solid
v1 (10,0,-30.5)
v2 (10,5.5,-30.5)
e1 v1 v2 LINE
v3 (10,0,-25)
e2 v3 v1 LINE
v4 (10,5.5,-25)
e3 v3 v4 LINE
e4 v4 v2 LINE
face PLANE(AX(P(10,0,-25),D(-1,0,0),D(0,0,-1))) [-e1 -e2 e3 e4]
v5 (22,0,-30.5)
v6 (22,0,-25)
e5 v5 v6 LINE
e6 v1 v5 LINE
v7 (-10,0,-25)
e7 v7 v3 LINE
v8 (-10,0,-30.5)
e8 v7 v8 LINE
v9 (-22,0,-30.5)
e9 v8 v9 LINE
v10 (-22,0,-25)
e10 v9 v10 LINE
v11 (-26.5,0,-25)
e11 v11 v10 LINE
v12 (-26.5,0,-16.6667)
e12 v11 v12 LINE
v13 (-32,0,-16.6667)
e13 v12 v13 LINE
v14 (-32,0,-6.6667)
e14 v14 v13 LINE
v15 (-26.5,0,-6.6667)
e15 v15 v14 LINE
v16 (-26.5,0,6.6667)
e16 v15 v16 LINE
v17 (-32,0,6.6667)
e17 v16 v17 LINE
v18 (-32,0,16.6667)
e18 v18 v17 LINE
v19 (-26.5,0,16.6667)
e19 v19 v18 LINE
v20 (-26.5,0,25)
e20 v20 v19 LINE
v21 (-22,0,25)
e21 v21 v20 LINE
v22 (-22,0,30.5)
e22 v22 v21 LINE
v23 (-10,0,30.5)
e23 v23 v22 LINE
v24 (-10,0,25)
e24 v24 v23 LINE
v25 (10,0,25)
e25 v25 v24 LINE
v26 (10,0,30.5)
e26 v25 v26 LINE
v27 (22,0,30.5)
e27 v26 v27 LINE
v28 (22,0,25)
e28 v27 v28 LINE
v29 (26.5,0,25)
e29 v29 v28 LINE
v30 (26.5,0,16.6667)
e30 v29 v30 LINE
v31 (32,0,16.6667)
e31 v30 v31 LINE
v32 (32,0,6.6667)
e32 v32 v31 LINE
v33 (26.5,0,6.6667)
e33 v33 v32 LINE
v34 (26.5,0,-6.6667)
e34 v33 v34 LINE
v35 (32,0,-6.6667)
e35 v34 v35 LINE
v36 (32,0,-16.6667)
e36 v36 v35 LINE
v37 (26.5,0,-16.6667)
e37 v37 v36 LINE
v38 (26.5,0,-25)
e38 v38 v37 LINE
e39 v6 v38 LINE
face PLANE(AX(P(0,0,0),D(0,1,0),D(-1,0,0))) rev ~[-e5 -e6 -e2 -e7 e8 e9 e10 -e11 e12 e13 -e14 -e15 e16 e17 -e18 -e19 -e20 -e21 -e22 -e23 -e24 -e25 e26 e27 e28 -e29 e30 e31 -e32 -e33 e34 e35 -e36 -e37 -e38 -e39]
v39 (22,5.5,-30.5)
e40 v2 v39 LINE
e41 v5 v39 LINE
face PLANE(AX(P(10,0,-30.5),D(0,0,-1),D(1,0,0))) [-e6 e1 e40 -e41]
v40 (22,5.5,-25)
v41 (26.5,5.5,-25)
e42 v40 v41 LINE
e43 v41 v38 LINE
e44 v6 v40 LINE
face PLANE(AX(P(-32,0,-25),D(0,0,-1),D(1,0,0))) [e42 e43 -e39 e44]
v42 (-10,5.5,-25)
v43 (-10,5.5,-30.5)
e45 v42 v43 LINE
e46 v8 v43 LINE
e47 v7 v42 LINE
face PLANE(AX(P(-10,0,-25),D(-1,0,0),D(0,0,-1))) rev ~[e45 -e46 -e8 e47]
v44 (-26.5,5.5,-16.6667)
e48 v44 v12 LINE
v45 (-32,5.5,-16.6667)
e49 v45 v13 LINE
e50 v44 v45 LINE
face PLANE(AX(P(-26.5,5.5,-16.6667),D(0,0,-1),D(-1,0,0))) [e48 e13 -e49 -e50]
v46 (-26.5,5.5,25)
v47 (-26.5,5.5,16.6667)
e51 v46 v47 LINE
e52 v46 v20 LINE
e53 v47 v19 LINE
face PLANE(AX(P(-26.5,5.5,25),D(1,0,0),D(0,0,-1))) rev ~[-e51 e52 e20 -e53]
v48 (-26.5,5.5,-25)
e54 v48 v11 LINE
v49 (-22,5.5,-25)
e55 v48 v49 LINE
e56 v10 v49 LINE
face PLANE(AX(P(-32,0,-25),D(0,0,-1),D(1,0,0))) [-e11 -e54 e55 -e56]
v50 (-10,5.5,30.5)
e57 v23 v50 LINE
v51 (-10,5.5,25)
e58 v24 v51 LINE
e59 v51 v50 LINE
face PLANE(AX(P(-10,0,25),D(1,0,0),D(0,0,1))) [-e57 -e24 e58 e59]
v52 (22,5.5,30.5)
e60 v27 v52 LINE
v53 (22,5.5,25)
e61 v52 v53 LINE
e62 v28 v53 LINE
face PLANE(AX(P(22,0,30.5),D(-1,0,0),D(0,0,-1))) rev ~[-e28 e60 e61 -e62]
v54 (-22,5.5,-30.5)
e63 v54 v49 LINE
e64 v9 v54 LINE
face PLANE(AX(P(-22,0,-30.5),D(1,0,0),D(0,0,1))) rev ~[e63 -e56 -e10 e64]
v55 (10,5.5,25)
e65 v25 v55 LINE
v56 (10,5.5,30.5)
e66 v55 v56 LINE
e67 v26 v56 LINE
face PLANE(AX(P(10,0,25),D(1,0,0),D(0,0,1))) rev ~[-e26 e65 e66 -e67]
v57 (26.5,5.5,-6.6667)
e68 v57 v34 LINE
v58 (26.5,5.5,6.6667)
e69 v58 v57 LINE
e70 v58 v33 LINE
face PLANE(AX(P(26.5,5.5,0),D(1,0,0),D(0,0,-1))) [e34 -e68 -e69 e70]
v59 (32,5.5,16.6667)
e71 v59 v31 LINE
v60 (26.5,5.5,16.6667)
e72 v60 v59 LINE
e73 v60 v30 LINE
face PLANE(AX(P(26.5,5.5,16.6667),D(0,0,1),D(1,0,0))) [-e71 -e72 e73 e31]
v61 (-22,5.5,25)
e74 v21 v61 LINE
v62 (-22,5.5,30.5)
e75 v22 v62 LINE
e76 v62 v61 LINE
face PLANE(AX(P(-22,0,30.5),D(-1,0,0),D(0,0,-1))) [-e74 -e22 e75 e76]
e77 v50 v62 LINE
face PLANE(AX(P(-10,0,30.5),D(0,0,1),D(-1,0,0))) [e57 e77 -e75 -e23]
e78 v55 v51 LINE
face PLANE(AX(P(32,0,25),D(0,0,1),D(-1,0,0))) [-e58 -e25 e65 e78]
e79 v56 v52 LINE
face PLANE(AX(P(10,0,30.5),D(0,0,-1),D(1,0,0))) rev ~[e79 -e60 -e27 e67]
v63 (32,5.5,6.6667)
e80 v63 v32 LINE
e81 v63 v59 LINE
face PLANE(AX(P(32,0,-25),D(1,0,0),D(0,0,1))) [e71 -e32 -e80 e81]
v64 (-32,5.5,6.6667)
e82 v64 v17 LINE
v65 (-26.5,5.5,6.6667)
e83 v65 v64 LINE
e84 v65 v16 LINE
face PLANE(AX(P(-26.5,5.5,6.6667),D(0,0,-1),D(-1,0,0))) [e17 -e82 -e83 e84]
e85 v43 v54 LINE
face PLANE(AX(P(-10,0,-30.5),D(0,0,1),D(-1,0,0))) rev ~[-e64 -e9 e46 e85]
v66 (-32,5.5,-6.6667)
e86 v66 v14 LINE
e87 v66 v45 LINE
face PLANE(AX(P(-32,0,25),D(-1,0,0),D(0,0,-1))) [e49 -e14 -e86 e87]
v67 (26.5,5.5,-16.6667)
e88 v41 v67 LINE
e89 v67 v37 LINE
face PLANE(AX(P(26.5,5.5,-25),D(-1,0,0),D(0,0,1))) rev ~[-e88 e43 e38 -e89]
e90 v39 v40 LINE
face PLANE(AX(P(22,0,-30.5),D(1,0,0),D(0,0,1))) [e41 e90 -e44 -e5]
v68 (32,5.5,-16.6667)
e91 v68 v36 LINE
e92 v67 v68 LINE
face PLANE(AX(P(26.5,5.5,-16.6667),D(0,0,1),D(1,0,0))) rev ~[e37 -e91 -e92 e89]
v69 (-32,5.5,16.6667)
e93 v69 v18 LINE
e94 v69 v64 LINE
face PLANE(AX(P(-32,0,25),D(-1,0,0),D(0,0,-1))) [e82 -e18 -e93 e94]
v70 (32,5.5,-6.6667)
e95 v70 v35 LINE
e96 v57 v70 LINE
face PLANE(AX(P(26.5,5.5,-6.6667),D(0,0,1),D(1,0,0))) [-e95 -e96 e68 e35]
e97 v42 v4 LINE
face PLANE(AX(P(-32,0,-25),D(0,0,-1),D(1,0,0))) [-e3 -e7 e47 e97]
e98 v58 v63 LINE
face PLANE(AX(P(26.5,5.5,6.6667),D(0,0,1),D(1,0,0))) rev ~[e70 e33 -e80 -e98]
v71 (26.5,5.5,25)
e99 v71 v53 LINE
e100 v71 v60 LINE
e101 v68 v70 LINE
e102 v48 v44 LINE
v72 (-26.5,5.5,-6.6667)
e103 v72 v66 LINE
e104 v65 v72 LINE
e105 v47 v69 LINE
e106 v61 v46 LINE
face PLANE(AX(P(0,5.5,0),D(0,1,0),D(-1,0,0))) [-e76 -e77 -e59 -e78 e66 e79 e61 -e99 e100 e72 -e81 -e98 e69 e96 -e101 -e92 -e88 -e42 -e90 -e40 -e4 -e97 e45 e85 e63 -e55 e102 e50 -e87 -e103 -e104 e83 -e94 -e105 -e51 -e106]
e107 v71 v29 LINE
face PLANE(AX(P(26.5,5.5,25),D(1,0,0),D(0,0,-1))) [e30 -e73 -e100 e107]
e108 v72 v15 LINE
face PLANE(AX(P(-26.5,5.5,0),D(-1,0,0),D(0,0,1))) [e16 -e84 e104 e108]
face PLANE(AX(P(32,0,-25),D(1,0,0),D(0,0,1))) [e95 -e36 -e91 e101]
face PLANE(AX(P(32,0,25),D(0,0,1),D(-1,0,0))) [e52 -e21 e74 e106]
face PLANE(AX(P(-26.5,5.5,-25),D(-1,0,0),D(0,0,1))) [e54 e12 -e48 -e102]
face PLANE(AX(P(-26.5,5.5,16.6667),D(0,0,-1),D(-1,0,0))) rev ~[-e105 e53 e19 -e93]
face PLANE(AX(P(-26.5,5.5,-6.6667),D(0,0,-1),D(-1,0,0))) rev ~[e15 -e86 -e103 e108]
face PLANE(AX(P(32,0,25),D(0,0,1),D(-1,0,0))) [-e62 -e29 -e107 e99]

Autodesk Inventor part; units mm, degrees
ref_plane "YZ Plane" through (0, 0, 0) normal (1, 0, 0) x (0, 1, 0)
ref_plane "XZ Plane" through (0, 0, 0) normal (0, 1, 0) x (-1, 0, 0)
ref_plane "XY Plane" through (0, 0, 0) normal (0, 0, 1) x (1, 0, 0)
sketch "Block1" plane through (0, 0, 0) normal (0, 0, 1) x (1, 0, 0)
  line L0 (-35.5, -12.8333) -> (-26.5, -12.8333)
  line L1 (-30, 3.8333) -> (-35.5, 3.8333)
  line L2 (-35.5, 3.8333) -> (-26.5, 3.8333)
  line L3 (-26.5, 3.8333) -> (-26.5, -12.8333)
  line L4 (-26.5, -12.8333) -> (-35.5, -12.8333)
  line L5 (-35.5, -12.8333) -> (-35.5, 3.8333)
  line L6 (26.5, 3.8333) -> (35.5, 3.8333)
  line L7 (35.5, 3.8333) -> (26.5, 3.8333)
  line L8 (26.5, 3.8333) -> (26.5, -12.8333)
  line L9 (35.5, -12.8333) -> (35.5, 3.8333)
  line L10 (26.5, -12.8333) -> (35.5, -12.8333)
  line L11 (35.5, -12.8333) -> (26.5, -12.8333)
  point P0 (0, -4.5)
  dimension "d37" = 5.5
sketch "Block2" plane through (0, 0, 0) normal (0, 0, 1) x (1, 0, 0)
  line L0 (-30, -5) -> (-35.5, -5)
  line L1 (-26.5, 5) -> (-35.5, 5)
  line L2 (-35.5, -5) -> (-26.5, -5)
  line L3 (-26.5, -5) -> (-26.5, 5)
  line L4 (-26.5, 5) -> (-35.5, 5)
  line L5 (-35.5, 5) -> (-35.5, -5)
  line L6 (26.5, -5) -> (26.5, 5)
  line L7 (35.5, -5) -> (26.5, -5)
  line L8 (26.5, 5) -> (35.5, 5)
  line L9 (35.5, 5) -> (35.5, -5)
  line L10 (26.5, 5) -> (35.5, 5)
  line L11 (26.5, -5) -> (35.5, -5)
  point P0 (0, 0)
  dimension "d51" = 5.5
sketch "Block3" plane through (0, 0, 0) normal (0, 0, 1) x (1, 0, 0)
  line L0 (-9.9, 25.1) -> (9.9, 25.1)
  line L1 (9.9, 25.1) -> (9.9, 34.1)
  line L2 (9.9, 34.1) -> (22.1, 34.1)
  line L3 (22.1, 34.1) -> (22.1, 25.1)
  line L4 (22.1, 25.1) -> (26.6, 25.1)
  line L5 (26.6, 25.1) -> (26.6, 16.7667)
  line L6 (26.6, 16.7667) -> (35.6, 16.7667)
  line L7 (35.6, 16.7667) -> (35.6, 6.5667)
  line L8 (35.6, 6.5667) -> (26.6, 6.5667)
  line L9 (26.6, 6.5667) -> (26.6, -6.5667)
  line L10 (26.6, -6.5667) -> (35.6, -6.5667)
  line L11 (35.6, -6.5667) -> (35.6, -16.7667)
  line L12 (35.6, -16.7667) -> (26.6, -16.7667)
  line L13 (26.6, -16.7667) -> (26.6, -25.1)
  line L14 (26.6, -25.1) -> (22.1, -25.1)
  line L15 (22.1, -25.1) -> (22.1, -34.1)
  line L16 (22.1, -34.1) -> (9.9, -34.1)
  line L17 (9.9, -34.1) -> (9.9, -25.1)
  line L18 (9.9, -25.1) -> (-9.9, -25.1)
  line L19 (-9.9, -25.1) -> (-9.9, -34.1)
  line L20 (-9.9, -34.1) -> (-22.1, -34.1)
  line L21 (-22.1, -34.1) -> (-22.1, -25.1)
  line L22 (-22.1, -25.1) -> (-26.6, -25.1)
  line L23 (-26.6, -25.1) -> (-26.6, -16.7667)
  line L24 (-26.6, -16.7667) -> (-35.6, -16.7667)
  line L25 (-35.6, -16.7667) -> (-35.6, -6.5667)
  line L26 (-35.6, -6.5667) -> (-26.6, -6.5667)
  line L27 (-26.6, -6.5667) -> (-26.6, 6.5667)
  line L28 (-26.6, 6.5667) -> (-35.6, 6.5667)
  line L29 (-35.6, 6.5667) -> (-35.6, 16.7667)
  line L30 (-35.6, 16.7667) -> (-26.6, 16.7667)
  line L31 (-26.6, 16.7667) -> (-26.6, 25.1)
  line L32 (-26.6, 25.1) -> (-22.1, 25.1)
  line L33 (-22.1, 25.1) -> (-22.1, 34.1)
  line L34 (-22.1, 34.1) -> (-9.9, 34.1)
  line L35 (-9.9, 34.1) -> (-9.9, 25.1)
  line L36 (-26.5, -6.6667) -> (-35.5, -6.6667)
  line L37 (-35.5, -6.6667) -> (-35.5, -16.6667)
  line L38 (-35.5, -16.6667) -> (-26.5, -16.6667)
  line L39 (-26.5, -16.6667) -> (-26.5, -25)
  line L40 (-26.5, -25) -> (-22, -25)
  line L41 (-22, -25) -> (-22, -34)
  line L42 (-22, -34) -> (-10, -34)
  line L43 (-10, -34) -> (-10, -25)
  line L44 (-10, -25) -> (10, -25)
  line L45 (10, -34) -> (10, -25)
  line L46 (22, -34) -> (10, -34)
  line L47 (22, -25) -> (22, -34)
  line L48 (22, -25) -> (26.5, -25)
  line L49 (26.5, -25) -> (26.5, -16.6667)
  line L50 (26.5, -16.6667) -> (35.5, -16.6667)
  line L51 (35.5, -16.6667) -> (35.5, -6.6667)
  line L52 (35.5, -6.6667) -> (26.5, -6.6667)
  line L53 (26.5, -6.6667) -> (26.5, 6.6667)
  line L54 (26.5, 6.6667) -> (35.5, 6.6667)
  line L55 (35.5, 6.6667) -> (35.5, 16.6667)
  line L56 (35.5, 16.6667) -> (26.5, 16.6667)
  line L57 (26.5, 16.6667) -> (26.5, 25)
  line L58 (26.5, 25) -> (22, 25)
  line L59 (22, 25) -> (22, 34)
  line L60 (22, 34) -> (10, 34)
  line L61 (10, 34) -> (10, 25)
  line L62 (10, 25) -> (-10, 25)
  line L63 (-10, 25) -> (-10, 34)
  line L64 (-10, 34) -> (-22, 34)
  line L65 (-22, 34) -> (-22, 25)
  line L66 (-22, 25) -> (-26.5, 25)
  line L67 (-26.5, 25) -> (-26.5, 16.6667)
  line L68 (-26.5, 16.6667) -> (-35.5, 16.6667)
  line L69 (-35.5, 16.6667) -> (-35.5, 6.6667)
  line L70 (-35.5, 6.6667) -> (-26.5, 6.6667)
  line L71 (-26.5, 6.6667) -> (-26.5, -6.6667)
  line L72 (-9.9, 25.1) -> (9.9, 25.1)
  line L73 (9.9, 25.1) -> (9.9, 34.1)
  line L74 (9.9, 34.1) -> (22.1, 34.1)
  line L75 (22.1, 34.1) -> (22.1, 25.1)
  line L76 (22.1, 25.1) -> (26.6, 25.1)
  line L77 (26.6, 25.1) -> (26.6, 16.7667)
  line L78 (26.6, 16.7667) -> (35.6, 16.7667)
  line L79 (35.6, 16.7667) -> (35.6, 6.5667)
  line L80 (35.6, 6.5667) -> (26.6, 6.5667)
  line L81 (26.6, 6.5667) -> (26.6, -6.5667)
  line L82 (26.6, -6.5667) -> (35.6, -6.5667)
  line L83 (35.6, -6.5667) -> (35.6, -16.7667)
  line L84 (35.6, -16.7667) -> (26.6, -16.7667)
  line L85 (26.6, -16.7667) -> (26.6, -25.1)
  line L86 (26.6, -25.1) -> (22.1, -25.1)
  line L87 (22.1, -25.1) -> (22.1, -34.1)
  line L88 (22.1, -34.1) -> (9.9, -34.1)
  line L89 (9.9, -34.1) -> (9.9, -25.1)
  line L90 (9.9, -25.1) -> (-9.9, -25.1)
  line L91 (-9.9, -25.1) -> (-9.9, -34.1)
  line L92 (-9.9, -34.1) -> (-22.1, -34.1)
  line L93 (-22.1, -34.1) -> (-22.1, -25.1)
  line L94 (-22.1, -25.1) -> (-26.6, -25.1)
  line L95 (-26.6, -25.1) -> (-26.6, -16.7667)
  line L96 (-26.6, -16.7667) -> (-35.6, -16.7667)
  line L97 (-35.6, -16.7667) -> (-35.6, -6.5667)
  line L98 (-35.6, -6.5667) -> (-26.6, -6.5667)
  line L99 (-26.6, -6.5667) -> (-26.6, 6.5667)
  line L100 (-26.6, 6.5667) -> (-35.6, 6.5667)
  line L101 (-35.6, 6.5667) -> (-35.6, 16.7667)
  line L102 (-35.6, 16.7667) -> (-26.6, 16.7667)
  line L103 (-26.6, 16.7667) -> (-26.6, 25.1)
  line L104 (-26.6, 25.1) -> (-22.1, 25.1)
  line L105 (-22.1, 25.1) -> (-22.1, 34.1)
  line L106 (-22.1, 34.1) -> (-9.9, 34.1)
  line L107 (-9.9, 34.1) -> (-9.9, 25.1)
  line L108 (-26.5, -6.6667) -> (-35.5, -6.6667)
  line L109 (-35.5, -6.6667) -> (-35.5, -16.6667)
  line L110 (-35.5, -16.6667) -> (-26.5, -16.6667)
  line L111 (-26.5, -16.6667) -> (-26.5, -25)
  line L112 (-26.5, -25) -> (-22, -25)
  line L113 (-22, -25) -> (-22, -34)
  line L114 (-22, -34) -> (-10, -34)
  line L115 (-10, -34) -> (-10, -25)
  line L116 (-10, -25) -> (10, -25)
  line L117 (10, -34) -> (10, -25)
  line L118 (22, -34) -> (10, -34)
  line L119 (22, -25) -> (22, -34)
  line L120 (22, -25) -> (26.5, -25)
  line L121 (26.5, -25) -> (26.5, -16.6667)
  line L122 (26.5, -16.6667) -> (35.5, -16.6667)
  line L123 (35.5, -16.6667) -> (35.5, -6.6667)
  line L124 (35.5, -6.6667) -> (26.5, -6.6667)
  line L125 (26.5, -6.6667) -> (26.5, 6.6667)
  line L126 (26.5, 6.6667) -> (35.5, 6.6667)
  line L127 (35.5, 6.6667) -> (35.5, 16.6667)
  line L128 (35.5, 16.6667) -> (26.5, 16.6667)
  line L129 (26.5, 16.6667) -> (26.5, 25)
  line L130 (26.5, 25) -> (22, 25)
  line L131 (22, 25) -> (22, 34)
  line L132 (22, 34) -> (10, 34)
  line L133 (10, 34) -> (10, 25)
  line L134 (10, 25) -> (-10, 25)
  line L135 (-10, 25) -> (-10, 34)
  line L136 (-10, 34) -> (-22, 34)
  line L137 (-22, 34) -> (-22, 25)
  line L138 (-22, 25) -> (-26.5, 25)
  line L139 (-26.5, 25) -> (-26.5, 16.6667)
  line L140 (-26.5, 16.6667) -> (-35.5, 16.6667)
  line L141 (-35.5, 16.6667) -> (-35.5, 6.6667)
  line L142 (-35.5, 6.6667) -> (-26.5, 6.6667)
  line L143 (-26.5, 6.6667) -> (-26.5, -6.6667)
  line L144 (-9.9, 25.1) -> (9.9, 25.1)
  line L145 (9.9, 25.1) -> (9.9, 34.1)
  line L146 (9.9, 34.1) -> (22.1, 34.1)
  line L147 (22.1, 34.1) -> (22.1, 25.1)
  line L148 (22.1, 25.1) -> (26.6, 25.1)
  line L149 (26.6, 25.1) -> (26.6, 16.7667)
  line L150 (26.6, 16.7667) -> (35.6, 16.7667)
  line L151 (35.6, 16.7667) -> (35.6, 6.5667)
  line L152 (35.6, 6.5667) -> (26.6, 6.5667)
  line L153 (26.6, 6.5667) -> (26.6, -6.5667)
  line L154 (26.6, -6.5667) -> (35.6, -6.5667)
  line L155 (35.6, -6.5667) -> (35.6, -16.7667)
  line L156 (35.6, -16.7667) -> (26.6, -16.7667)
  line L157 (26.6, -16.7667) -> (26.6, -25.1)
  line L158 (26.6, -25.1) -> (22.1, -25.1)
  line L159 (22.1, -25.1) -> (22.1, -34.1)
  line L160 (22.1, -34.1) -> (9.9, -34.1)
  line L161 (9.9, -34.1) -> (9.9, -25.1)
  line L162 (9.9, -25.1) -> (-9.9, -25.1)
  line L163 (-9.9, -25.1) -> (-9.9, -34.1)
  line L164 (-9.9, -34.1) -> (-22.1, -34.1)
  line L165 (-22.1, -34.1) -> (-22.1, -25.1)
  line L166 (-22.1, -25.1) -> (-26.6, -25.1)
  line L167 (-26.6, -25.1) -> (-26.6, -16.7667)
  line L168 (-26.6, -16.7667) -> (-35.6, -16.7667)
  line L169 (-35.6, -16.7667) -> (-35.6, -6.5667)
  line L170 (-35.6, -6.5667) -> (-26.6, -6.5667)
  line L171 (-26.6, -6.5667) -> (-26.6, 6.5667)
  line L172 (-26.6, 6.5667) -> (-35.6, 6.5667)
  line L173 (-35.6, 6.5667) -> (-35.6, 16.7667)
  line L174 (-35.6, 16.7667) -> (-26.6, 16.7667)
  line L175 (-26.6, 16.7667) -> (-26.6, 25.1)
  line L176 (-26.6, 25.1) -> (-22.1, 25.1)
  line L177 (-22.1, 25.1) -> (-22.1, 34.1)
  line L178 (-22.1, 34.1) -> (-9.9, 34.1)
  line L179 (-9.9, 34.1) -> (-9.9, 25.1)
  line L180 (-26.5, -6.6667) -> (-35.5, -6.6667)
  line L181 (-35.5, -6.6667) -> (-35.5, -16.6667)
  line L182 (-35.5, -16.6667) -> (-26.5, -16.6667)
  line L183 (-26.5, -16.6667) -> (-26.5, -25)
  line L184 (-26.5, -25) -> (-22, -25)
  line L185 (-22, -25) -> (-22, -34)
  line L186 (-22, -34) -> (-10, -34)
  line L187 (-10, -34) -> (-10, -25)
  line L188 (-10, -25) -> (10, -25)
  line L189 (10, -34) -> (10, -25)
  line L190 (22, -34) -> (10, -34)
  line L191 (22, -25) -> (22, -34)
  line L192 (22, -25) -> (26.5, -25)
  line L193 (26.5, -25) -> (26.5, -16.6667)
  line L194 (26.5, -16.6667) -> (35.5, -16.6667)
  line L195 (35.5, -16.6667) -> (35.5, -6.6667)
  line L196 (35.5, -6.6667) -> (26.5, -6.6667)
  line L197 (26.5, -6.6667) -> (26.5, 6.6667)
  line L198 (26.5, 6.6667) -> (35.5, 6.6667)
  line L199 (35.5, 6.6667) -> (35.5, 16.6667)
  line L200 (35.5, 16.6667) -> (26.5, 16.6667)
  line L201 (26.5, 16.6667) -> (26.5, 25)
  line L202 (26.5, 25) -> (22, 25)
  line L203 (22, 25) -> (22, 34)
  line L204 (22, 34) -> (10, 34)
  line L205 (10, 34) -> (10, 25)
  line L206 (10, 25) -> (-10, 25)
  line L207 (-10, 25) -> (-10, 34)
  line L208 (-10, 34) -> (-22, 34)
  line L209 (-22, 34) -> (-22, 25)
  line L210 (-22, 25) -> (-26.5, 25)
  line L211 (-26.5, 25) -> (-26.5, 16.6667)
  line L212 (-26.5, 16.6667) -> (-35.5, 16.6667)
  line L213 (-35.5, 16.6667) -> (-35.5, 6.6667)
  line L214 (-35.5, 6.6667) -> (-26.5, 6.6667)
  line L215 (-26.5, 6.6667) -> (-26.5, -6.6667)
  line L216 (-9.9, 25.1) -> (9.9, 25.1)
  line L217 (9.9, 25.1) -> (9.9, 34.1)
  line L218 (9.9, 34.1) -> (22.1, 34.1)
  line L219 (22.1, 34.1) -> (22.1, 25.1)
  line L220 (22.1, 25.1) -> (26.6, 25.1)
  line L221 (26.6, 25.1) -> (26.6, 16.7667)
  line L222 (26.6, 16.7667) -> (35.6, 16.7667)
  line L223 (35.6, 16.7667) -> (35.6, 6.5667)
  line L224 (35.6, 6.5667) -> (26.6, 6.5667)
  line L225 (26.6, 6.5667) -> (26.6, -6.5667)
  line L226 (26.6, -6.5667) -> (35.6, -6.5667)
  line L227 (35.6, -6.5667) -> (35.6, -16.7667)
  line L228 (35.6, -16.7667) -> (26.6, -16.7667)
  line L229 (26.6, -16.7667) -> (26.6, -25.1)
  line L230 (26.6, -25.1) -> (22.1, -25.1)
  line L231 (22.1, -25.1) -> (22.1, -34.1)
  line L232 (22.1, -34.1) -> (9.9, -34.1)
  line L233 (9.9, -34.1) -> (9.9, -25.1)
  line L234 (9.9, -25.1) -> (-9.9, -25.1)
  line L235 (-9.9, -25.1) -> (-9.9, -34.1)
  line L236 (-9.9, -34.1) -> (-22.1, -34.1)
  line L237 (-22.1, -34.1) -> (-22.1, -25.1)
  line L238 (-22.1, -25.1) -> (-26.6, -25.1)
  line L239 (-26.6, -25.1) -> (-26.6, -16.7667)
  line L240 (-26.6, -16.7667) -> (-35.6, -16.7667)
  line L241 (-35.6, -16.7667) -> (-35.6, -6.5667)
  line L242 (-35.6, -6.5667) -> (-26.6, -6.5667)
  line L243 (-26.6, -6.5667) -> (-26.6, 6.5667)
  line L244 (-26.6, 6.5667) -> (-35.6, 6.5667)
  line L245 (-35.6, 6.5667) -> (-35.6, 16.7667)
  line L246 (-35.6, 16.7667) -> (-26.6, 16.7667)
  line L247 (-26.6, 16.7667) -> (-26.6, 25.1)
  line L248 (-26.6, 25.1) -> (-22.1, 25.1)
  line L249 (-22.1, 25.1) -> (-22.1, 34.1)
  line L250 (-22.1, 34.1) -> (-9.9, 34.1)
  line L251 (-9.9, 34.1) -> (-9.9, 25.1)
  line L252 (-26.5, -6.6667) -> (-35.5, -6.6667)
  line L253 (-35.5, -6.6667) -> (-35.5, -16.6667)
  line L254 (-35.5, -16.6667) -> (-26.5, -16.6667)
  line L255 (-26.5, -16.6667) -> (-26.5, -25)
  line L256 (-26.5, -25) -> (-22, -25)
  line L257 (-22, -25) -> (-22, -34)
  line L258 (-22, -34) -> (-10, -34)
  line L259 (-10, -34) -> (-10, -25)
  line L260 (-10, -25) -> (10, -25)
  line L261 (10, -34) -> (10, -25)
  line L262 (22, -34) -> (10, -34)
  line L263 (22, -25) -> (22, -34)
  line L264 (22, -25) -> (26.5, -25)
  line L265 (26.5, -25) -> (26.5, -16.6667)
  line L266 (26.5, -16.6667) -> (35.5, -16.6667)
  line L267 (35.5, -16.6667) -> (35.5, -6.6667)
  line L268 (35.5, -6.6667) -> (26.5, -6.6667)
  line L269 (26.5, -6.6667) -> (26.5, 6.6667)
  line L270 (26.5, 6.6667) -> (35.5, 6.6667)
  line L271 (35.5, 6.6667) -> (35.5, 16.6667)
  line L272 (35.5, 16.6667) -> (26.5, 16.6667)
  line L273 (26.5, 16.6667) -> (26.5, 25)
  line L274 (26.5, 25) -> (22, 25)
  line L275 (22, 25) -> (22, 34)
  line L276 (22, 34) -> (10, 34)
  line L277 (10, 34) -> (10, 25)
  line L278 (10, 25) -> (-10, 25)
  line L279 (-10, 25) -> (-10, 34)
  line L280 (-10, 34) -> (-22, 34)
  line L281 (-22, 34) -> (-22, 25)
  line L282 (-22, 25) -> (-26.5, 25)
  line L283 (-26.5, 25) -> (-26.5, 16.6667)
  line L284 (-26.5, 16.6667) -> (-35.5, 16.6667)
  line L285 (-35.5, 16.6667) -> (-35.5, 6.6667)
  line L286 (-35.5, 6.6667) -> (-26.5, 6.6667)
  line L287 (-26.5, 6.6667) -> (-26.5, -6.6667)
  line L288 (-9.9, 25.1) -> (9.9, 25.1)
  line L289 (9.9, 25.1) -> (9.9, 34.1)
  line L290 (9.9, 34.1) -> (22.1, 34.1)
  line L291 (22.1, 34.1) -> (22.1, 25.1)
  line L292 (22.1, 25.1) -> (26.6, 25.1)
  line L293 (26.6, 25.1) -> (26.6, 16.7667)
  line L294 (26.6, 16.7667) -> (35.6, 16.7667)
  line L295 (35.6, 16.7667) -> (35.6, 6.5667)
  line L296 (35.6, 6.5667) -> (26.6, 6.5667)
  line L297 (26.6, 6.5667) -> (26.6, -6.5667)
  line L298 (26.6, -6.5667) -> (35.6, -6.5667)
  line L299 (35.6, -6.5667) -> (35.6, -16.7667)
  line L300 (35.6, -16.7667) -> (26.6, -16.7667)
  line L301 (26.6, -16.7667) -> (26.6, -25.1)
  line L302 (26.6, -25.1) -> (22.1, -25.1)
  line L303 (22.1, -25.1) -> (22.1, -34.1)
  line L304 (22.1, -34.1) -> (9.9, -34.1)
  line L305 (9.9, -34.1) -> (9.9, -25.1)
  line L306 (9.9, -25.1) -> (-9.9, -25.1)
  line L307 (-9.9, -25.1) -> (-9.9, -34.1)
  line L308 (-9.9, -34.1) -> (-22.1, -34.1)
  line L309 (-22.1, -34.1) -> (-22.1, -25.1)
  line L310 (-22.1, -25.1) -> (-26.6, -25.1)
  line L311 (-26.6, -25.1) -> (-26.6, -16.7667)
  line L312 (-26.6, -16.7667) -> (-35.6, -16.7667)
  line L313 (-35.6, -16.7667) -> (-35.6, -6.5667)
  line L314 (-35.6, -6.5667) -> (-26.6, -6.5667)
  line L315 (-26.6, -6.5667) -> (-26.6, 6.5667)
  line L316 (-26.6, 6.5667) -> (-35.6, 6.5667)
  line L317 (-35.6, 6.5667) -> (-35.6, 16.7667)
  line L318 (-35.6, 16.7667) -> (-26.6, 16.7667)
  line L319 (-26.6, 16.7667) -> (-26.6, 25.1)
  line L320 (-26.6, 25.1) -> (-22.1, 25.1)
  line L321 (-22.1, 25.1) -> (-22.1, 34.1)
  line L322 (-22.1, 34.1) -> (-9.9, 34.1)
  line L323 (-9.9, 34.1) -> (-9.9, 25.1)
  line L324 (-26.5, -6.6667) -> (-35.5, -6.6667)
  line L325 (-35.5, -6.6667) -> (-35.5, -16.6667)
  line L326 (-35.5, -16.6667) -> (-26.5, -16.6667)
  line L327 (-26.5, -16.6667) -> (-26.5, -25)
  line L328 (-26.5, -25) -> (-22, -25)
  line L329 (-22, -25) -> (-22, -34)
  line L330 (-22, -34) -> (-10, -34)
  line L331 (-10, -34) -> (-10, -25)
  line L332 (-10, -25) -> (10, -25)
  line L333 (10, -34) -> (10, -25)
  line L334 (22, -34) -> (10, -34)
  line L335 (22, -25) -> (22, -34)
  line L336 (22, -25) -> (26.5, -25)
  line L337 (26.5, -25) -> (26.5, -16.6667)
  line L338 (26.5, -16.6667) -> (35.5, -16.6667)
  line L339 (35.5, -16.6667) -> (35.5, -6.6667)
  line L340 (35.5, -6.6667) -> (26.5, -6.6667)
  line L341 (26.5, -6.6667) -> (26.5, 6.6667)
  line L342 (26.5, 6.6667) -> (35.5, 6.6667)
  line L343 (35.5, 6.6667) -> (35.5, 16.6667)
  line L344 (35.5, 16.6667) -> (26.5, 16.6667)
  line L345 (26.5, 16.6667) -> (26.5, 25)
  line L346 (26.5, 25) -> (22, 25)
  line L347 (22, 25) -> (22, 34)
  line L348 (22, 34) -> (10, 34)
  line L349 (10, 34) -> (10, 25)
  line L350 (10, 25) -> (-10, 25)
  line L351 (-10, 25) -> (-10, 34)
  line L352 (-10, 34) -> (-22, 34)
  line L353 (-22, 34) -> (-22, 25)
  line L354 (-22, 25) -> (-26.5, 25)
  line L355 (-26.5, 25) -> (-26.5, 16.6667)
  line L356 (-26.5, 16.6667) -> (-35.5, 16.6667)
  line L357 (-35.5, 16.6667) -> (-35.5, 6.6667)
  line L358 (-35.5, 6.6667) -> (-26.5, 6.6667)
  line L359 (-26.5, 6.6667) -> (-26.5, -6.6667)
  line L360 (-9.9, 25.1) -> (9.9, 25.1)
  line L361 (9.9, 25.1) -> (9.9, 34.1)
  line L362 (9.9, 34.1) -> (22.1, 34.1)
  line L363 (22.1, 34.1) -> (22.1, 25.1)
  line L364 (22.1, 25.1) -> (26.6, 25.1)
  line L365 (26.6, 25.1) -> (26.6, 16.7667)
  line L366 (26.6, 16.7667) -> (35.6, 16.7667)
  line L367 (35.6, 16.7667) -> (35.6, 6.5667)
  line L368 (35.6, 6.5667) -> (26.6, 6.5667)
  line L369 (26.6, 6.5667) -> (26.6, -6.5667)
  line L370 (26.6, -6.5667) -> (35.6, -6.5667)
  line L371 (35.6, -6.5667) -> (35.6, -16.7667)
  line L372 (35.6, -16.7667) -> (26.6, -16.7667)
  line L373 (26.6, -16.7667) -> (26.6, -25.1)
  line L374 (26.6, -25.1) -> (22.1, -25.1)
  line L375 (22.1, -25.1) -> (22.1, -34.1)
  line L376 (22.1, -34.1) -> (9.9, -34.1)
  line L377 (9.9, -34.1) -> (9.9, -25.1)
  line L378 (9.9, -25.1) -> (-9.9, -25.1)
  line L379 (-9.9, -25.1) -> (-9.9, -34.1)
  line L380 (-9.9, -34.1) -> (-22.1, -34.1)
  line L381 (-22.1, -34.1) -> (-22.1, -25.1)
  line L382 (-22.1, -25.1) -> (-26.6, -25.1)
  line L383 (-26.6, -25.1) -> (-26.6, -16.7667)
  line L384 (-26.6, -16.7667) -> (-35.6, -16.7667)
  line L385 (-35.6, -16.7667) -> (-35.6, -6.5667)
  line L386 (-35.6, -6.5667) -> (-26.6, -6.5667)
  line L387 (-26.6, -6.5667) -> (-26.6, 6.5667)
  line L388 (-26.6, 6.5667) -> (-35.6, 6.5667)
  line L389 (-35.6, 6.5667) -> (-35.6, 16.7667)
  line L390 (-35.6, 16.7667) -> (-26.6, 16.7667)
  line L391 (-26.6, 16.7667) -> (-26.6, 25.1)
  line L392 (-26.6, 25.1) -> (-22.1, 25.1)
  line L393 (-22.1, 25.1) -> (-22.1, 34.1)
  line L394 (-22.1, 34.1) -> (-9.9, 34.1)
  line L395 (-9.9, 34.1) -> (-9.9, 25.1)
  line L396 (-26.5, -6.6667) -> (-35.5, -6.6667)
  line L397 (-35.5, -6.6667) -> (-35.5, -16.6667)
  line L398 (-35.5, -16.6667) -> (-26.5, -16.6667)
  line L399 (-26.5, -16.6667) -> (-26.5, -25)
  line L400 (-26.5, -25) -> (-22, -25)
  line L401 (-22, -25) -> (-22, -34)
  line L402 (-22, -34) -> (-10, -34)
  line L403 (-10, -34) -> (-10, -25)
  line L404 (-10, -25) -> (10, -25)
  line L405 (10, -34) -> (10, -25)
  line L406 (22, -34) -> (10, -34)
  line L407 (22, -25) -> (22, -34)
  line L408 (22, -25) -> (26.5, -25)
  line L409 (26.5, -25) -> (26.5, -16.6667)
  line L410 (26.5, -16.6667) -> (35.5, -16.6667)
  line L411 (35.5, -16.6667) -> (35.5, -6.6667)
  line L412 (35.5, -6.6667) -> (26.5, -6.6667)
  line L413 (26.5, -6.6667) -> (26.5, 6.6667)
  line L414 (26.5, 6.6667) -> (35.5, 6.6667)
  line L415 (35.5, 6.6667) -> (35.5, 16.6667)
  line L416 (35.5, 16.6667) -> (26.5, 16.6667)
  line L417 (26.5, 16.6667) -> (26.5, 25)
  line L418 (26.5, 25) -> (22, 25)
  line L419 (22, 25) -> (22, 34)
  line L420 (22, 34) -> (10, 34)
  line L421 (10, 34) -> (10, 25)
  line L422 (10, 25) -> (-10, 25)
  line L423 (-10, 25) -> (-10, 34)
  line L424 (-10, 34) -> (-22, 34)
  line L425 (-22, 34) -> (-22, 25)
  line L426 (-22, 25) -> (-26.5, 25)
  line L427 (-26.5, 25) -> (-26.5, 16.6667)
  line L428 (-26.5, 16.6667) -> (-35.5, 16.6667)
  line L429 (-35.5, 16.6667) -> (-35.5, 6.6667)
  line L430 (-35.5, 6.6667) -> (-26.5, 6.6667)
  line L431 (-26.5, 6.6667) -> (-26.5, -6.6667)
  line L432 (-9.9, 25.1) -> (9.9, 25.1)
  line L433 (9.9, 25.1) -> (9.9, 34.1)
  line L434 (9.9, 34.1) -> (22.1, 34.1)
  line L435 (22.1, 34.1) -> (22.1, 25.1)
  line L436 (22.1, 25.1) -> (26.6, 25.1)
  line L437 (26.6, 25.1) -> (26.6, 16.7667)
  line L438 (26.6, 16.7667) -> (35.6, 16.7667)
  line L439 (35.6, 16.7667) -> (35.6, 6.5667)
  line L440 (35.6, 6.5667) -> (26.6, 6.5667)
  line L441 (26.6, 6.5667) -> (26.6, -6.5667)
  line L442 (26.6, -6.5667) -> (35.6, -6.5667)
  line L443 (35.6, -6.5667) -> (35.6, -16.7667)
  line L444 (35.6, -16.7667) -> (26.6, -16.7667)
  line L445 (26.6, -16.7667) -> (26.6, -25.1)
  line L446 (26.6, -25.1) -> (22.1, -25.1)
  line L447 (22.1, -25.1) -> (22.1, -34.1)
  line L448 (22.1, -34.1) -> (9.9, -34.1)
  line L449 (9.9, -34.1) -> (9.9, -25.1)
  line L450 (9.9, -25.1) -> (-9.9, -25.1)
  line L451 (-9.9, -25.1) -> (-9.9, -34.1)
  line L452 (-9.9, -34.1) -> (-22.1, -34.1)
  line L453 (-22.1, -34.1) -> (-22.1, -25.1)
  line L454 (-22.1, -25.1) -> (-26.6, -25.1)
  line L455 (-26.6, -25.1) -> (-26.6, -16.7667)
  line L456 (-26.6, -16.7667) -> (-35.6, -16.7667)
  line L457 (-35.6, -16.7667) -> (-35.6, -6.5667)
  line L458 (-35.6, -6.5667) -> (-26.6, -6.5667)
  line L459 (-26.6, -6.5667) -> (-26.6, 6.5667)
  line L460 (-26.6, 6.5667) -> (-35.6, 6.5667)
  line L461 (-35.6, 6.5667) -> (-35.6, 16.7667)
  line L462 (-35.6, 16.7667) -> (-26.6, 16.7667)
  line L463 (-26.6, 16.7667) -> (-26.6, 25.1)
  line L464 (-26.6, 25.1) -> (-22.1, 25.1)
  line L465 (-22.1, 25.1) -> (-22.1, 34.1)
  line L466 (-22.1, 34.1) -> (-9.9, 34.1)
  line L467 (-9.9, 34.1) -> (-9.9, 25.1)
  line L468 (-26.5, -6.6667) -> (-35.5, -6.6667)
  line L469 (-35.5, -6.6667) -> (-35.5, -16.6667)
  line L470 (-35.5, -16.6667) -> (-26.5, -16.6667)
  line L471 (-26.5, -16.6667) -> (-26.5, -25)
  line L472 (-26.5, -25) -> (-22, -25)
  line L473 (-22, -25) -> (-22, -34)
  line L474 (-22, -34) -> (-10, -34)
  line L475 (-10, -34) -> (-10, -25)
  line L476 (-10, -25) -> (10, -25)
  line L477 (10, -34) -> (10, -25)
  line L478 (22, -34) -> (10, -34)
  line L479 (22, -25) -> (22, -34)
  line L480 (22, -25) -> (26.5, -25)
  line L481 (26.5, -25) -> (26.5, -16.6667)
  line L482 (26.5, -16.6667) -> (35.5, -16.6667)
  line L483 (35.5, -16.6667) -> (35.5, -6.6667)
  line L484 (35.5, -6.6667) -> (26.5, -6.6667)
  line L485 (26.5, -6.6667) -> (26.5, 6.6667)
  line L486 (26.5, 6.6667) -> (35.5, 6.6667)
  line L487 (35.5, 6.6667) -> (35.5, 16.6667)
  line L488 (35.5, 16.6667) -> (26.5, 16.6667)
  line L489 (26.5, 16.6667) -> (26.5, 25)
  line L490 (26.5, 25) -> (22, 25)
  line L491 (22, 25) -> (22, 34)
  line L492 (22, 34) -> (10, 34)
  line L493 (10, 34) -> (10, 25)
  line L494 (10, 25) -> (-10, 25)
  line L495 (-10, 25) -> (-10, 34)
  line L496 (-10, 34) -> (-22, 34)
  line L497 (-22, 34) -> (-22, 25)
  line L498 (-22, 25) -> (-26.5, 25)
  line L499 (-26.5, 25) -> (-26.5, 16.6667)
  line L500 (-26.5, 16.6667) -> (-35.5, 16.6667)
  line L501 (-35.5, 16.6667) -> (-35.5, 6.6667)
  line L502 (-35.5, 6.6667) -> (-26.5, 6.6667)
  line L503 (-26.5, 6.6667) -> (-26.5, -6.6667)
  line L504 (-9.9, 25.1) -> (9.9, 25.1)
  line L505 (9.9, 25.1) -> (9.9, 34.1)
  line L506 (9.9, 34.1) -> (22.1, 34.1)
  line L507 (22.1, 34.1) -> (22.1, 25.1)
  line L508 (22.1, 25.1) -> (26.6, 25.1)
  line L509 (26.6, 25.1) -> (26.6, 16.7667)
  line L510 (26.6, 16.7667) -> (35.6, 16.7667)
  line L511 (35.6, 16.7667) -> (35.6, 6.5667)
  line L512 (35.6, 6.5667) -> (26.6, 6.5667)
  line L513 (26.6, 6.5667) -> (26.6, -6.5667)
  line L514 (26.6, -6.5667) -> (35.6, -6.5667)
  line L515 (35.6, -6.5667) -> (35.6, -16.7667)
  line L516 (35.6, -16.7667) -> (26.6, -16.7667)
  line L517 (26.6, -16.7667) -> (26.6, -25.1)
  line L518 (26.6, -25.1) -> (22.1, -25.1)
  line L519 (22.1, -25.1) -> (22.1, -34.1)
  line L520 (22.1, -34.1) -> (9.9, -34.1)
  line L521 (9.9, -34.1) -> (9.9, -25.1)
  line L522 (9.9, -25.1) -> (-9.9, -25.1)
  line L523 (-9.9, -25.1) -> (-9.9, -34.1)
  line L524 (-9.9, -34.1) -> (-22.1, -34.1)
  line L525 (-22.1, -34.1) -> (-22.1, -25.1)
  line L526 (-22.1, -25.1) -> (-26.6, -25.1)
  line L527 (-26.6, -25.1) -> (-26.6, -16.7667)
  line L528 (-26.6, -16.7667) -> (-35.6, -16.7667)
  line L529 (-35.6, -16.7667) -> (-35.6, -6.5667)
  line L530 (-35.6, -6.5667) -> (-26.6, -6.5667)
  line L531 (-26.6, -6.5667) -> (-26.6, 6.5667)
  line L532 (-26.6, 6.5667) -> (-35.6, 6.5667)
  line L533 (-35.6, 6.5667) -> (-35.6, 16.7667)
  line L534 (-35.6, 16.7667) -> (-26.6, 16.7667)
  line L535 (-26.6, 16.7667) -> (-26.6, 25.1)
  line L536 (-26.6, 25.1) -> (-22.1, 25.1)
  line L537 (-22.1, 25.1) -> (-22.1, 34.1)
  line L538 (-22.1, 34.1) -> (-9.9, 34.1)
  line L539 (-9.9, 34.1) -> (-9.9, 25.1)
  point P0 (0, 0)
  point P1 (0, 0)
  point P2 (0, 0)
  point P3 (0, 0)
  point P4 (0, 0)
  point P5 (0, 0)
  point P6 (0, 0)
  point P7 (0, 0)
  dimension "d58" = 0.1
  dimension "d60" = 0.1
  dimension "d61" = 0.1
  dimension "d64" = 0.1
  dimension "d65" = 0.1
  dimension "d66" = 0.1
  dimension "d67" = 0.1
sketch "Block4" plane through (0, 0, 0) normal (0, 0, 1) x (1, 0, 0)
  line L0 (-8, 27) -> (8, 27)
  line L1 (8, 27) -> (8, 36)
  line L2 (8, 36) -> (24, 36)
  line L3 (24, 36) -> (24, 27)
  line L4 (24, 27) -> (28.5, 27)
  line L5 (28.5, 27) -> (28.5, 18.6667)
  line L6 (28.5, 18.6667) -> (37.5, 18.6667)
  line L7 (37.5, 18.6667) -> (37.5, 4.6667)
  line L8 (37.5, 4.6667) -> (28.5, 4.6667)
  line L9 (28.5, 4.6667) -> (28.5, -4.6667)
  line L10 (28.5, -4.6667) -> (37.5, -4.6667)
  line L11 (37.5, -4.6667) -> (37.5, -18.6667)
  line L12 (37.5, -18.6667) -> (28.5, -18.6667)
  line L13 (28.5, -18.6667) -> (28.5, -27)
  line L14 (28.5, -27) -> (24, -27)
  line L15 (24, -27) -> (24, -36)
  line L16 (24, -36) -> (8, -36)
  line L17 (8, -36) -> (8, -27)
  line L18 (8, -27) -> (-8, -27)
  line L19 (-8, -27) -> (-8, -36)
  line L20 (-8, -36) -> (-24, -36)
  line L21 (-24, -36) -> (-24, -27)
  line L22 (-24, -27) -> (-28.5, -27)
  line L23 (-28.5, -27) -> (-28.5, -18.6667)
  line L24 (-28.5, -18.6667) -> (-37.5, -18.6667)
  line L25 (-37.5, -18.6667) -> (-37.5, -4.6667)
  line L26 (-37.5, -4.6667) -> (-28.5, -4.6667)
  line L27 (-28.5, -4.6667) -> (-28.5, 4.6667)
  line L28 (-28.5, 4.6667) -> (-37.5, 4.6667)
  line L29 (-37.5, 4.6667) -> (-37.5, 18.6667)
  line L30 (-37.5, 18.6667) -> (-28.5, 18.6667)
  line L31 (-28.5, 18.6667) -> (-28.5, 27)
  line L32 (-28.5, 27) -> (-24, 27)
  line L33 (-24, 27) -> (-24, 36)
  line L34 (-24, 36) -> (-8, 36)
  line L35 (-8, 36) -> (-8, 27)
  point P0 (0, 0)
sketch "Block5" plane through (0, 0, 0) normal (0, 0, 1) x (1, 0, 0)
  line L0 (-9.9, 25.1) -> (9.9, 25.1)
  line L1 (9.9, 25.1) -> (9.9, 34.1)
  line L2 (9.9, 34.1) -> (22.1, 34.1)
  line L3 (22.1, 34.1) -> (22.1, 25.1)
  line L4 (22.1, 25.1) -> (26.6, 25.1)
  line L5 (26.6, 25.1) -> (26.6, 16.7667)
  line L6 (26.6, 16.7667) -> (35.6, 16.7667)
  line L7 (35.6, 16.7667) -> (35.6, 6.5667)
  line L8 (35.6, 6.5667) -> (26.6, 6.5667)
  line L9 (26.6, 6.5667) -> (26.6, -6.5667)
  line L10 (26.6, -6.5667) -> (35.6, -6.5667)
  line L11 (35.6, -6.5667) -> (35.6, -16.7667)
  line L12 (35.6, -16.7667) -> (26.6, -16.7667)
  line L13 (26.6, -16.7667) -> (26.6, -25.1)
  line L14 (26.6, -25.1) -> (22.1, -25.1)
  line L15 (22.1, -25.1) -> (22.1, -34.1)
  line L16 (22.1, -34.1) -> (9.9, -34.1)
  line L17 (9.9, -34.1) -> (9.9, -25.1)
  line L18 (9.9, -25.1) -> (-9.9, -25.1)
  line L19 (-9.9, -25.1) -> (-9.9, -34.1)
  line L20 (-9.9, -34.1) -> (-22.1, -34.1)
  line L21 (-22.1, -34.1) -> (-22.1, -25.1)
  line L22 (-22.1, -25.1) -> (-26.6, -25.1)
  line L23 (-26.6, -25.1) -> (-26.6, -16.7667)
  line L24 (-26.6, -16.7667) -> (-35.6, -16.7667)
  line L25 (-35.6, -16.7667) -> (-35.6, -6.5667)
  line L26 (-35.6, -6.5667) -> (-26.6, -6.5667)
  line L27 (-26.6, -6.5667) -> (-26.6, 6.5667)
  line L28 (-26.6, 6.5667) -> (-35.6, 6.5667)
  line L29 (-35.6, 6.5667) -> (-35.6, 16.7667)
  line L30 (-35.6, 16.7667) -> (-26.6, 16.7667)
  line L31 (-26.6, 16.7667) -> (-26.6, 25.1)
  line L32 (-26.6, 25.1) -> (-22.1, 25.1)
  line L33 (-22.1, 25.1) -> (-22.1, 34.1)
  line L34 (-22.1, 34.1) -> (-9.9, 34.1)
  line L35 (-9.9, 34.1) -> (-9.9, 25.1)
  point P0 (0, 0)
sketch "Block6" plane through (0, 0, 0) normal (0, 0, 1) x (1, 0, 0)
  line L0 (9.8, 34.2) -> (22.2, 34.2)
  line L1 (22.2, 34.2) -> (22.2, 25.2)
  line L2 (22.2, 25.2) -> (26.7, 25.2)
  line L3 (26.7, 25.2) -> (26.7, 16.8667)
  line L4 (26.7, 16.8667) -> (35.7, 16.8667)
  line L5 (35.7, 16.8667) -> (35.7, 6.4667)
  line L6 (35.7, 6.4667) -> (26.7, 6.4667)
  line L7 (26.7, 6.4667) -> (26.7, -6.4667)
  line L8 (26.7, -6.4667) -> (35.7, -6.4667)
  line L9 (35.7, -6.4667) -> (35.7, -16.8667)
  line L10 (35.7, -16.8667) -> (26.7, -16.8667)
  line L11 (26.7, -16.8667) -> (26.7, -25.2)
  line L12 (26.7, -25.2) -> (22.2, -25.2)
  line L13 (22.2, -25.2) -> (22.2, -34.2)
  line L14 (22.2, -34.2) -> (9.8, -34.2)
  line L15 (9.8, -34.2) -> (9.8, -25.2)
  line L16 (9.8, -25.2) -> (-9.8, -25.2)
  line L17 (-9.8, -25.2) -> (-9.8, -34.2)
  line L18 (-9.8, -34.2) -> (-22.2, -34.2)
  line L19 (-22.2, -34.2) -> (-22.2, -25.2)
  line L20 (-22.2, -25.2) -> (-26.7, -25.2)
  line L21 (-26.7, -25.2) -> (-26.7, -16.8667)
  line L22 (-26.7, -16.8667) -> (-35.7, -16.8667)
  line L23 (-35.7, -16.8667) -> (-35.7, -6.4667)
  line L24 (-35.7, -6.4667) -> (-26.7, -6.4667)
  line L25 (-26.7, -6.4667) -> (-26.7, 6.4667)
  line L26 (-26.7, 6.4667) -> (-35.7, 6.4667)
  line L27 (-35.7, 6.4667) -> (-35.7, 16.8667)
  line L28 (-35.7, 16.8667) -> (-26.7, 16.8667)
  line L29 (-26.7, 16.8667) -> (-26.7, 25.2)
  line L30 (-26.7, 25.2) -> (-22.2, 25.2)
  line L31 (-22.2, 25.2) -> (-22.2, 34.2)
  line L32 (-22.2, 34.2) -> (-9.8, 34.2)
  line L33 (-9.8, 34.2) -> (-9.8, 25.2)
  line L34 (-9.8, 25.2) -> (9.8, 25.2)
  line L35 (9.8, 25.2) -> (9.8, 34.2)
  point P0 (0, 0)
sketch "Block7" plane through (0, 0, 0) normal (0, 0, 1) x (1, 0, 0)
  line L0 (9.9, 34.1) -> (22.1, 34.1)
  line L1 (22.1, 34.1) -> (22.1, 25.1)
  line L2 (22.1, 25.1) -> (26.6, 25.1)
  line L3 (26.6, 25.1) -> (26.6, 16.7667)
  line L4 (26.6, 16.7667) -> (35.6, 16.7667)
  line L5 (35.6, 16.7667) -> (35.6, 6.5667)
  line L6 (35.6, 6.5667) -> (26.6, 6.5667)
  line L7 (26.6, 6.5667) -> (26.6, -6.5667)
  line L8 (26.6, -6.5667) -> (35.6, -6.5667)
  line L9 (35.6, -6.5667) -> (35.6, -16.7667)
  line L10 (35.6, -16.7667) -> (26.6, -16.7667)
  line L11 (26.6, -16.7667) -> (26.6, -25.1)
  line L12 (26.6, -25.1) -> (22.1, -25.1)
  line L13 (22.1, -25.1) -> (22.1, -34.1)
  line L14 (22.1, -34.1) -> (9.9, -34.1)
  line L15 (9.9, -34.1) -> (9.9, -25.1)
  line L16 (9.9, -25.1) -> (-9.9, -25.1)
  line L17 (-9.9, -25.1) -> (-9.9, -34.1)
  line L18 (-9.9, -34.1) -> (-22.1, -34.1)
  line L19 (-22.1, -34.1) -> (-22.1, -25.1)
  line L20 (-22.1, -25.1) -> (-26.6, -25.1)
  line L21 (-26.6, -25.1) -> (-26.6, -16.7667)
  line L22 (-26.6, -16.7667) -> (-35.6, -16.7667)
  line L23 (-35.6, -16.7667) -> (-35.6, -6.5667)
  line L24 (-35.6, -6.5667) -> (-26.6, -6.5667)
  line L25 (-26.6, -6.5667) -> (-26.6, 6.5667)
  line L26 (-26.6, 6.5667) -> (-35.6, 6.5667)
  line L27 (-35.6, 6.5667) -> (-35.6, 16.7667)
  line L28 (-35.6, 16.7667) -> (-26.6, 16.7667)
  line L29 (-26.6, 16.7667) -> (-26.6, 25.1)
  line L30 (-26.6, 25.1) -> (-22.1, 25.1)
  line L31 (-22.1, 25.1) -> (-22.1, 34.1)
  line L32 (-22.1, 34.1) -> (-9.9, 34.1)
  line L33 (-9.9, 34.1) -> (-9.9, 25.1)
  line L34 (-9.9, 25.1) -> (9.9, 25.1)
  line L35 (9.9, 25.1) -> (9.9, 34.1)
  point P0 (0, 0)
sketch "Block8" plane through (0, 0, 0) normal (0, 0, 1) x (1, 0, 0)
  line L0 (-9.92, 25.08) -> (9.92, 25.08)
  line L1 (9.92, 25.08) -> (9.92, 30.58)
  line L2 (9.92, 30.58) -> (22.08, 30.58)
  line L3 (22.08, 30.58) -> (22.08, 25.08)
  line L4 (22.08, 25.08) -> (26.58, 25.08)
  line L5 (26.58, 25.08) -> (26.58, 16.7467)
  line L6 (26.58, 16.7467) -> (32.08, 16.7467)
  line L7 (32.08, 16.7467) -> (32.08, 6.5867)
  line L8 (32.08, 6.5867) -> (26.58, 6.5867)
  line L9 (26.58, 6.5867) -> (26.58, -6.5867)
  line L10 (26.58, -6.5867) -> (32.08, -6.5867)
  line L11 (32.08, -6.5867) -> (32.08, -16.7467)
  line L12 (32.08, -16.7467) -> (26.58, -16.7467)
  line L13 (26.58, -16.7467) -> (26.58, -25.08)
  line L14 (26.58, -25.08) -> (22.08, -25.08)
  line L15 (22.08, -25.08) -> (22.08, -30.58)
  line L16 (22.08, -30.58) -> (9.92, -30.58)
  line L17 (9.92, -30.58) -> (9.92, -25.08)
  line L18 (9.92, -25.08) -> (-9.92, -25.08)
  line L19 (-9.92, -25.08) -> (-9.92, -30.58)
  line L20 (-9.92, -30.58) -> (-22.08, -30.58)
  line L21 (-22.08, -30.58) -> (-22.08, -25.08)
  line L22 (-22.08, -25.08) -> (-26.58, -25.08)
  line L23 (-26.58, -25.08) -> (-26.58, -16.7467)
  line L24 (-26.58, -16.7467) -> (-32.08, -16.7467)
  line L25 (-32.08, -16.7467) -> (-32.08, -6.5867)
  line L26 (-32.08, -6.5867) -> (-26.58, -6.5867)
  line L27 (-26.58, -6.5867) -> (-26.58, 6.5867)
  line L28 (-26.58, 6.5867) -> (-32.08, 6.5867)
  line L29 (-32.08, 6.5867) -> (-32.08, 16.7467)
  line L30 (-32.08, 16.7467) -> (-26.58, 16.7467)
  line L31 (-26.58, 16.7467) -> (-26.58, 25.08)
  line L32 (-26.58, 25.08) -> (-22.08, 25.08)
  line L33 (-22.08, 25.08) -> (-22.08, 30.58)
  line L34 (-22.08, 30.58) -> (-9.92, 30.58)
  line L35 (-9.92, 30.58) -> (-9.92, 25.08)
  point P0 (0, 0)
sketch "Sketch2" plane through (0, 0, 0) normal (0, 1, 0) x (-1, 0, 0)
  line L0 (32, -25) -> (-32, -25)
  line L1 (-32, -25) -> (-32, 25)
  line L2 (-32, 25) -> (32, 25)
  line L3 (32, 25) -> (32, -25)
  line L4 (32, -25) -> (-32, 25) construction
  line L5 (-32, -25) -> (32, 25) construction
  point P0 (0, 0)
  dimension "d0" = 64
  dimension "d1" = 50
extrude "Extrusion1" add sketch "Sketch2" along normal blind 5.5
sketch "Sketch4" plane through (0, 0, 0) normal (0, -1, 0) x (1, 0, 0)
  line L0 (-32, -25) -> (32, -25) projected
  line L1 (-22, -25) -> (-10, -25)
  line L2 (-10, -25) -> (-10, -30.5)
  line L3 (-10, -30.5) -> (-22, -30.5)
  line L4 (-22, -30.5) -> (-22, -25)
  line L5 (0, -47.9488) -> (0, 48.9927) projected
  line L6 (-1026.854, 0) -> (1026.854, 0) projected
  line L7 (22, -25) -> (10, -25)
  line L8 (10, -25) -> (10, -30.5)
  line L9 (10, -30.5) -> (22, -30.5)
  line L10 (22, -30.5) -> (22, -25)
  line L11 (-22, 25) -> (-10, 25)
  line L12 (-10, 25) -> (-10, 30.5)
  line L13 (-10, 30.5) -> (-22, 30.5)
  line L14 (-22, 30.5) -> (-22, 25)
  line L15 (10, 25) -> (10, 30.5)
  line L16 (10, 30.5) -> (22, 30.5)
  line L17 (22, 30.5) -> (22, 25)
  line L18 (22, 25) -> (10, 25)
  point P0 (0, 0)
  dimension "d9" = 5.5
  dimension "d10" = 20
  dimension "d11" = 12
extrude "Extrusion3" add sketch "Sketch4" against normal blind 5.5
sketch "Sketch7" plane through (0, 5.5, 0) normal (0, 1, 0) x (1, 0, 0)
  line L0 (0, 47.9488) -> (0, -48.9927) projected
  line L1 (-32, -25) -> (-26.5, -25)
  line L2 (-26.5, -25) -> (-26.5, -16.6667)
  line L3 (-26.5, -16.6667) -> (-32, -16.6667)
  line L4 (-32, -16.6667) -> (-32, -25)
  line L5 (-1026.854, 0) -> (1026.854, 0) projected
  line L6 (-32, 25) -> (-26.5, 25)
  line L7 (-26.5, 25) -> (-26.5, 16.6667)
  line L8 (-26.5, 16.6667) -> (-32, 16.6667)
  line L9 (-32, 16.6667) -> (-32, 25)
  line L10 (32, -25) -> (26.5, -25)
  line L11 (26.5, -25) -> (26.5, -16.6667)
  line L12 (26.5, -16.6667) -> (32, -16.6667)
  line L13 (32, -16.6667) -> (32, -25)
  line L14 (26.5, 25) -> (26.5, 16.6667)
  line L15 (32, 25) -> (26.5, 25)
  line L16 (26.5, 16.6667) -> (32, 16.6667)
  line L17 (32, 16.6667) -> (32, 25)
  point P0 (0, 0)
  dimension "d47" = 5.5
  dimension "d48" = 8.3333
extrude "Extrusion10" cut sketch "Sketch7" against normal through all
sketch "Sketch8" plane through (0, 5.5, 0) normal (0, 1, 0) x (1, 0, 0)
  line L0 (-32, -16.6667) -> (-23, -16.6667)
  line L1 (-1026.854, 0) -> (1026.854, 0) projected
  line L2 (0, 47.9488) -> (0, -48.9927) projected
  line L3 (-32, 16.6667) -> (-26.5, 16.6667)
  line L4 (-32, 16.6667) -> (-23, 16.6667)
  line L5 (-32, -16.6667) -> (-26.5, -16.6667)
  line L6 (-26.5, -16.6667) -> (-26.5, -6.6667)
  line L7 (-26.5, -6.6667) -> (-32, -6.6667)
  line L8 (-32, -6.6667) -> (-32, -16.6667)
  line L9 (-32, 16.6667) -> (-23, 16.6667)
  line L10 (-32, 16.6667) -> (-26.5, 16.6667)
  line L11 (-26.5, 16.6667) -> (-26.5, 6.6667)
  line L12 (-26.5, 6.6667) -> (-32, 6.6667)
  line L13 (-32, 6.6667) -> (-32, 16.6667)
  line L14 (32, -16.6667) -> (23, -16.6667)
  line L15 (32, 16.6667) -> (23, 16.6667)
  line L16 (32, 16.6667) -> (23, 16.6667)
  line L17 (32, 16.6667) -> (26.5, 16.6667)
  line L18 (-32, -6.6667) -> (-26.5, -6.6667)
  line L19 (-26.5, 6.6667) -> (-32, 6.6667)
  line L20 (32, -16.6667) -> (23, -16.6667)
  line L21 (32, 16.6667) -> (26.5, 16.6667)
  line L22 (32, 16.6667) -> (23, 16.6667)
  line L23 (32, -16.6667) -> (26.5, -16.6667)
  line L24 (26.5, -16.6667) -> (26.5, -6.6667)
  line L25 (26.5, -6.6667) -> (32, -6.6667)
  line L26 (32, -6.6667) -> (32, -16.6667)
  line L27 (26.5, 16.6667) -> (26.5, 6.6667)
  line L28 (32, 16.6667) -> (23, 16.6667)
  line L29 (32, 16.6667) -> (26.5, 16.6667)
  line L30 (32, 6.6667) -> (32, 16.6667)
  line L31 (26.5, 6.6667) -> (32, 6.6667)
  line L32 (32, -6.6667) -> (26.5, -6.6667)
  line L33 (26.5, 6.6667) -> (32, 6.6667)
  line L34 (-26.5, -6.6667) -> (-32, -6.6667)
  line L35 (-32, -6.6667) -> (-32, 6.6667)
  line L36 (-32, 6.6667) -> (-26.5, 6.6667)
  line L37 (-26.5, 6.6667) -> (-26.5, -6.6667)
  line L38 (32, -6.6667) -> (26.5, -6.6667)
  line L39 (26.5, -6.6667) -> (26.5, 6.6667)
  line L40 (26.5, 6.6667) -> (32, 6.6667)
  line L41 (32, 6.6667) -> (32, -6.6667)
  point P0 (-26.5, -16.6667)
  point P1 (0, 0)
  point P2 (26.5, -16.6667)
  point P3 (26.5, -16.6667)
  dimension "d53" = 5.5
  dimension "d54" = 10
  dimension "d76" = 0.08
extrude "Extrusion11" cut sketch "Sketch8" against normal through all contours L39 L31 L41 L1 | L1 L41 L25 L39 | L35 L1 L37 L7 | L35 L12 L37 L1
equation "\"d37\" = Wt"
equation "\"d51\" = Wt"
equation "\"d58\" = d59"
equation "\"d60\" = d62"
equation "\"d61\" = d63"
equation "\"d64\" = d68"
equation "\"d65\" = d69"
equation "\"d66\" = d70"
equation "\"d67\" = d71"
equation "\"d2\" = Wt"
equation "\"d9\" = Wt"
equation "\"d12\" = Wt"
equation "\"d47\" = Wt"
equation "\"d48\" = 0.166667 * d1"
equation "\"d49\" = Wt"
equation "\"d53\" = Wt"
equation "\"d54\" = 0.2 * d1"
equation "\"d55\" = Wt"
equation "\"d76\" = Kerf"
equation "\"Wt\" = 5.5"
equation "\"d59\" = 0.1"
equation "\"d62\" = 0.1"
equation "\"d63\" = 0.1"
equation "\"d68\" = 0.1"
equation "\"d69\" = 0.1"
equation "\"d70\" = 0.1"
equation "\"d71\" = 0.1"
equation "\"Kerf\" = 0.08"
properties part number "holder_plate_side" material "Wood (Birch)"
